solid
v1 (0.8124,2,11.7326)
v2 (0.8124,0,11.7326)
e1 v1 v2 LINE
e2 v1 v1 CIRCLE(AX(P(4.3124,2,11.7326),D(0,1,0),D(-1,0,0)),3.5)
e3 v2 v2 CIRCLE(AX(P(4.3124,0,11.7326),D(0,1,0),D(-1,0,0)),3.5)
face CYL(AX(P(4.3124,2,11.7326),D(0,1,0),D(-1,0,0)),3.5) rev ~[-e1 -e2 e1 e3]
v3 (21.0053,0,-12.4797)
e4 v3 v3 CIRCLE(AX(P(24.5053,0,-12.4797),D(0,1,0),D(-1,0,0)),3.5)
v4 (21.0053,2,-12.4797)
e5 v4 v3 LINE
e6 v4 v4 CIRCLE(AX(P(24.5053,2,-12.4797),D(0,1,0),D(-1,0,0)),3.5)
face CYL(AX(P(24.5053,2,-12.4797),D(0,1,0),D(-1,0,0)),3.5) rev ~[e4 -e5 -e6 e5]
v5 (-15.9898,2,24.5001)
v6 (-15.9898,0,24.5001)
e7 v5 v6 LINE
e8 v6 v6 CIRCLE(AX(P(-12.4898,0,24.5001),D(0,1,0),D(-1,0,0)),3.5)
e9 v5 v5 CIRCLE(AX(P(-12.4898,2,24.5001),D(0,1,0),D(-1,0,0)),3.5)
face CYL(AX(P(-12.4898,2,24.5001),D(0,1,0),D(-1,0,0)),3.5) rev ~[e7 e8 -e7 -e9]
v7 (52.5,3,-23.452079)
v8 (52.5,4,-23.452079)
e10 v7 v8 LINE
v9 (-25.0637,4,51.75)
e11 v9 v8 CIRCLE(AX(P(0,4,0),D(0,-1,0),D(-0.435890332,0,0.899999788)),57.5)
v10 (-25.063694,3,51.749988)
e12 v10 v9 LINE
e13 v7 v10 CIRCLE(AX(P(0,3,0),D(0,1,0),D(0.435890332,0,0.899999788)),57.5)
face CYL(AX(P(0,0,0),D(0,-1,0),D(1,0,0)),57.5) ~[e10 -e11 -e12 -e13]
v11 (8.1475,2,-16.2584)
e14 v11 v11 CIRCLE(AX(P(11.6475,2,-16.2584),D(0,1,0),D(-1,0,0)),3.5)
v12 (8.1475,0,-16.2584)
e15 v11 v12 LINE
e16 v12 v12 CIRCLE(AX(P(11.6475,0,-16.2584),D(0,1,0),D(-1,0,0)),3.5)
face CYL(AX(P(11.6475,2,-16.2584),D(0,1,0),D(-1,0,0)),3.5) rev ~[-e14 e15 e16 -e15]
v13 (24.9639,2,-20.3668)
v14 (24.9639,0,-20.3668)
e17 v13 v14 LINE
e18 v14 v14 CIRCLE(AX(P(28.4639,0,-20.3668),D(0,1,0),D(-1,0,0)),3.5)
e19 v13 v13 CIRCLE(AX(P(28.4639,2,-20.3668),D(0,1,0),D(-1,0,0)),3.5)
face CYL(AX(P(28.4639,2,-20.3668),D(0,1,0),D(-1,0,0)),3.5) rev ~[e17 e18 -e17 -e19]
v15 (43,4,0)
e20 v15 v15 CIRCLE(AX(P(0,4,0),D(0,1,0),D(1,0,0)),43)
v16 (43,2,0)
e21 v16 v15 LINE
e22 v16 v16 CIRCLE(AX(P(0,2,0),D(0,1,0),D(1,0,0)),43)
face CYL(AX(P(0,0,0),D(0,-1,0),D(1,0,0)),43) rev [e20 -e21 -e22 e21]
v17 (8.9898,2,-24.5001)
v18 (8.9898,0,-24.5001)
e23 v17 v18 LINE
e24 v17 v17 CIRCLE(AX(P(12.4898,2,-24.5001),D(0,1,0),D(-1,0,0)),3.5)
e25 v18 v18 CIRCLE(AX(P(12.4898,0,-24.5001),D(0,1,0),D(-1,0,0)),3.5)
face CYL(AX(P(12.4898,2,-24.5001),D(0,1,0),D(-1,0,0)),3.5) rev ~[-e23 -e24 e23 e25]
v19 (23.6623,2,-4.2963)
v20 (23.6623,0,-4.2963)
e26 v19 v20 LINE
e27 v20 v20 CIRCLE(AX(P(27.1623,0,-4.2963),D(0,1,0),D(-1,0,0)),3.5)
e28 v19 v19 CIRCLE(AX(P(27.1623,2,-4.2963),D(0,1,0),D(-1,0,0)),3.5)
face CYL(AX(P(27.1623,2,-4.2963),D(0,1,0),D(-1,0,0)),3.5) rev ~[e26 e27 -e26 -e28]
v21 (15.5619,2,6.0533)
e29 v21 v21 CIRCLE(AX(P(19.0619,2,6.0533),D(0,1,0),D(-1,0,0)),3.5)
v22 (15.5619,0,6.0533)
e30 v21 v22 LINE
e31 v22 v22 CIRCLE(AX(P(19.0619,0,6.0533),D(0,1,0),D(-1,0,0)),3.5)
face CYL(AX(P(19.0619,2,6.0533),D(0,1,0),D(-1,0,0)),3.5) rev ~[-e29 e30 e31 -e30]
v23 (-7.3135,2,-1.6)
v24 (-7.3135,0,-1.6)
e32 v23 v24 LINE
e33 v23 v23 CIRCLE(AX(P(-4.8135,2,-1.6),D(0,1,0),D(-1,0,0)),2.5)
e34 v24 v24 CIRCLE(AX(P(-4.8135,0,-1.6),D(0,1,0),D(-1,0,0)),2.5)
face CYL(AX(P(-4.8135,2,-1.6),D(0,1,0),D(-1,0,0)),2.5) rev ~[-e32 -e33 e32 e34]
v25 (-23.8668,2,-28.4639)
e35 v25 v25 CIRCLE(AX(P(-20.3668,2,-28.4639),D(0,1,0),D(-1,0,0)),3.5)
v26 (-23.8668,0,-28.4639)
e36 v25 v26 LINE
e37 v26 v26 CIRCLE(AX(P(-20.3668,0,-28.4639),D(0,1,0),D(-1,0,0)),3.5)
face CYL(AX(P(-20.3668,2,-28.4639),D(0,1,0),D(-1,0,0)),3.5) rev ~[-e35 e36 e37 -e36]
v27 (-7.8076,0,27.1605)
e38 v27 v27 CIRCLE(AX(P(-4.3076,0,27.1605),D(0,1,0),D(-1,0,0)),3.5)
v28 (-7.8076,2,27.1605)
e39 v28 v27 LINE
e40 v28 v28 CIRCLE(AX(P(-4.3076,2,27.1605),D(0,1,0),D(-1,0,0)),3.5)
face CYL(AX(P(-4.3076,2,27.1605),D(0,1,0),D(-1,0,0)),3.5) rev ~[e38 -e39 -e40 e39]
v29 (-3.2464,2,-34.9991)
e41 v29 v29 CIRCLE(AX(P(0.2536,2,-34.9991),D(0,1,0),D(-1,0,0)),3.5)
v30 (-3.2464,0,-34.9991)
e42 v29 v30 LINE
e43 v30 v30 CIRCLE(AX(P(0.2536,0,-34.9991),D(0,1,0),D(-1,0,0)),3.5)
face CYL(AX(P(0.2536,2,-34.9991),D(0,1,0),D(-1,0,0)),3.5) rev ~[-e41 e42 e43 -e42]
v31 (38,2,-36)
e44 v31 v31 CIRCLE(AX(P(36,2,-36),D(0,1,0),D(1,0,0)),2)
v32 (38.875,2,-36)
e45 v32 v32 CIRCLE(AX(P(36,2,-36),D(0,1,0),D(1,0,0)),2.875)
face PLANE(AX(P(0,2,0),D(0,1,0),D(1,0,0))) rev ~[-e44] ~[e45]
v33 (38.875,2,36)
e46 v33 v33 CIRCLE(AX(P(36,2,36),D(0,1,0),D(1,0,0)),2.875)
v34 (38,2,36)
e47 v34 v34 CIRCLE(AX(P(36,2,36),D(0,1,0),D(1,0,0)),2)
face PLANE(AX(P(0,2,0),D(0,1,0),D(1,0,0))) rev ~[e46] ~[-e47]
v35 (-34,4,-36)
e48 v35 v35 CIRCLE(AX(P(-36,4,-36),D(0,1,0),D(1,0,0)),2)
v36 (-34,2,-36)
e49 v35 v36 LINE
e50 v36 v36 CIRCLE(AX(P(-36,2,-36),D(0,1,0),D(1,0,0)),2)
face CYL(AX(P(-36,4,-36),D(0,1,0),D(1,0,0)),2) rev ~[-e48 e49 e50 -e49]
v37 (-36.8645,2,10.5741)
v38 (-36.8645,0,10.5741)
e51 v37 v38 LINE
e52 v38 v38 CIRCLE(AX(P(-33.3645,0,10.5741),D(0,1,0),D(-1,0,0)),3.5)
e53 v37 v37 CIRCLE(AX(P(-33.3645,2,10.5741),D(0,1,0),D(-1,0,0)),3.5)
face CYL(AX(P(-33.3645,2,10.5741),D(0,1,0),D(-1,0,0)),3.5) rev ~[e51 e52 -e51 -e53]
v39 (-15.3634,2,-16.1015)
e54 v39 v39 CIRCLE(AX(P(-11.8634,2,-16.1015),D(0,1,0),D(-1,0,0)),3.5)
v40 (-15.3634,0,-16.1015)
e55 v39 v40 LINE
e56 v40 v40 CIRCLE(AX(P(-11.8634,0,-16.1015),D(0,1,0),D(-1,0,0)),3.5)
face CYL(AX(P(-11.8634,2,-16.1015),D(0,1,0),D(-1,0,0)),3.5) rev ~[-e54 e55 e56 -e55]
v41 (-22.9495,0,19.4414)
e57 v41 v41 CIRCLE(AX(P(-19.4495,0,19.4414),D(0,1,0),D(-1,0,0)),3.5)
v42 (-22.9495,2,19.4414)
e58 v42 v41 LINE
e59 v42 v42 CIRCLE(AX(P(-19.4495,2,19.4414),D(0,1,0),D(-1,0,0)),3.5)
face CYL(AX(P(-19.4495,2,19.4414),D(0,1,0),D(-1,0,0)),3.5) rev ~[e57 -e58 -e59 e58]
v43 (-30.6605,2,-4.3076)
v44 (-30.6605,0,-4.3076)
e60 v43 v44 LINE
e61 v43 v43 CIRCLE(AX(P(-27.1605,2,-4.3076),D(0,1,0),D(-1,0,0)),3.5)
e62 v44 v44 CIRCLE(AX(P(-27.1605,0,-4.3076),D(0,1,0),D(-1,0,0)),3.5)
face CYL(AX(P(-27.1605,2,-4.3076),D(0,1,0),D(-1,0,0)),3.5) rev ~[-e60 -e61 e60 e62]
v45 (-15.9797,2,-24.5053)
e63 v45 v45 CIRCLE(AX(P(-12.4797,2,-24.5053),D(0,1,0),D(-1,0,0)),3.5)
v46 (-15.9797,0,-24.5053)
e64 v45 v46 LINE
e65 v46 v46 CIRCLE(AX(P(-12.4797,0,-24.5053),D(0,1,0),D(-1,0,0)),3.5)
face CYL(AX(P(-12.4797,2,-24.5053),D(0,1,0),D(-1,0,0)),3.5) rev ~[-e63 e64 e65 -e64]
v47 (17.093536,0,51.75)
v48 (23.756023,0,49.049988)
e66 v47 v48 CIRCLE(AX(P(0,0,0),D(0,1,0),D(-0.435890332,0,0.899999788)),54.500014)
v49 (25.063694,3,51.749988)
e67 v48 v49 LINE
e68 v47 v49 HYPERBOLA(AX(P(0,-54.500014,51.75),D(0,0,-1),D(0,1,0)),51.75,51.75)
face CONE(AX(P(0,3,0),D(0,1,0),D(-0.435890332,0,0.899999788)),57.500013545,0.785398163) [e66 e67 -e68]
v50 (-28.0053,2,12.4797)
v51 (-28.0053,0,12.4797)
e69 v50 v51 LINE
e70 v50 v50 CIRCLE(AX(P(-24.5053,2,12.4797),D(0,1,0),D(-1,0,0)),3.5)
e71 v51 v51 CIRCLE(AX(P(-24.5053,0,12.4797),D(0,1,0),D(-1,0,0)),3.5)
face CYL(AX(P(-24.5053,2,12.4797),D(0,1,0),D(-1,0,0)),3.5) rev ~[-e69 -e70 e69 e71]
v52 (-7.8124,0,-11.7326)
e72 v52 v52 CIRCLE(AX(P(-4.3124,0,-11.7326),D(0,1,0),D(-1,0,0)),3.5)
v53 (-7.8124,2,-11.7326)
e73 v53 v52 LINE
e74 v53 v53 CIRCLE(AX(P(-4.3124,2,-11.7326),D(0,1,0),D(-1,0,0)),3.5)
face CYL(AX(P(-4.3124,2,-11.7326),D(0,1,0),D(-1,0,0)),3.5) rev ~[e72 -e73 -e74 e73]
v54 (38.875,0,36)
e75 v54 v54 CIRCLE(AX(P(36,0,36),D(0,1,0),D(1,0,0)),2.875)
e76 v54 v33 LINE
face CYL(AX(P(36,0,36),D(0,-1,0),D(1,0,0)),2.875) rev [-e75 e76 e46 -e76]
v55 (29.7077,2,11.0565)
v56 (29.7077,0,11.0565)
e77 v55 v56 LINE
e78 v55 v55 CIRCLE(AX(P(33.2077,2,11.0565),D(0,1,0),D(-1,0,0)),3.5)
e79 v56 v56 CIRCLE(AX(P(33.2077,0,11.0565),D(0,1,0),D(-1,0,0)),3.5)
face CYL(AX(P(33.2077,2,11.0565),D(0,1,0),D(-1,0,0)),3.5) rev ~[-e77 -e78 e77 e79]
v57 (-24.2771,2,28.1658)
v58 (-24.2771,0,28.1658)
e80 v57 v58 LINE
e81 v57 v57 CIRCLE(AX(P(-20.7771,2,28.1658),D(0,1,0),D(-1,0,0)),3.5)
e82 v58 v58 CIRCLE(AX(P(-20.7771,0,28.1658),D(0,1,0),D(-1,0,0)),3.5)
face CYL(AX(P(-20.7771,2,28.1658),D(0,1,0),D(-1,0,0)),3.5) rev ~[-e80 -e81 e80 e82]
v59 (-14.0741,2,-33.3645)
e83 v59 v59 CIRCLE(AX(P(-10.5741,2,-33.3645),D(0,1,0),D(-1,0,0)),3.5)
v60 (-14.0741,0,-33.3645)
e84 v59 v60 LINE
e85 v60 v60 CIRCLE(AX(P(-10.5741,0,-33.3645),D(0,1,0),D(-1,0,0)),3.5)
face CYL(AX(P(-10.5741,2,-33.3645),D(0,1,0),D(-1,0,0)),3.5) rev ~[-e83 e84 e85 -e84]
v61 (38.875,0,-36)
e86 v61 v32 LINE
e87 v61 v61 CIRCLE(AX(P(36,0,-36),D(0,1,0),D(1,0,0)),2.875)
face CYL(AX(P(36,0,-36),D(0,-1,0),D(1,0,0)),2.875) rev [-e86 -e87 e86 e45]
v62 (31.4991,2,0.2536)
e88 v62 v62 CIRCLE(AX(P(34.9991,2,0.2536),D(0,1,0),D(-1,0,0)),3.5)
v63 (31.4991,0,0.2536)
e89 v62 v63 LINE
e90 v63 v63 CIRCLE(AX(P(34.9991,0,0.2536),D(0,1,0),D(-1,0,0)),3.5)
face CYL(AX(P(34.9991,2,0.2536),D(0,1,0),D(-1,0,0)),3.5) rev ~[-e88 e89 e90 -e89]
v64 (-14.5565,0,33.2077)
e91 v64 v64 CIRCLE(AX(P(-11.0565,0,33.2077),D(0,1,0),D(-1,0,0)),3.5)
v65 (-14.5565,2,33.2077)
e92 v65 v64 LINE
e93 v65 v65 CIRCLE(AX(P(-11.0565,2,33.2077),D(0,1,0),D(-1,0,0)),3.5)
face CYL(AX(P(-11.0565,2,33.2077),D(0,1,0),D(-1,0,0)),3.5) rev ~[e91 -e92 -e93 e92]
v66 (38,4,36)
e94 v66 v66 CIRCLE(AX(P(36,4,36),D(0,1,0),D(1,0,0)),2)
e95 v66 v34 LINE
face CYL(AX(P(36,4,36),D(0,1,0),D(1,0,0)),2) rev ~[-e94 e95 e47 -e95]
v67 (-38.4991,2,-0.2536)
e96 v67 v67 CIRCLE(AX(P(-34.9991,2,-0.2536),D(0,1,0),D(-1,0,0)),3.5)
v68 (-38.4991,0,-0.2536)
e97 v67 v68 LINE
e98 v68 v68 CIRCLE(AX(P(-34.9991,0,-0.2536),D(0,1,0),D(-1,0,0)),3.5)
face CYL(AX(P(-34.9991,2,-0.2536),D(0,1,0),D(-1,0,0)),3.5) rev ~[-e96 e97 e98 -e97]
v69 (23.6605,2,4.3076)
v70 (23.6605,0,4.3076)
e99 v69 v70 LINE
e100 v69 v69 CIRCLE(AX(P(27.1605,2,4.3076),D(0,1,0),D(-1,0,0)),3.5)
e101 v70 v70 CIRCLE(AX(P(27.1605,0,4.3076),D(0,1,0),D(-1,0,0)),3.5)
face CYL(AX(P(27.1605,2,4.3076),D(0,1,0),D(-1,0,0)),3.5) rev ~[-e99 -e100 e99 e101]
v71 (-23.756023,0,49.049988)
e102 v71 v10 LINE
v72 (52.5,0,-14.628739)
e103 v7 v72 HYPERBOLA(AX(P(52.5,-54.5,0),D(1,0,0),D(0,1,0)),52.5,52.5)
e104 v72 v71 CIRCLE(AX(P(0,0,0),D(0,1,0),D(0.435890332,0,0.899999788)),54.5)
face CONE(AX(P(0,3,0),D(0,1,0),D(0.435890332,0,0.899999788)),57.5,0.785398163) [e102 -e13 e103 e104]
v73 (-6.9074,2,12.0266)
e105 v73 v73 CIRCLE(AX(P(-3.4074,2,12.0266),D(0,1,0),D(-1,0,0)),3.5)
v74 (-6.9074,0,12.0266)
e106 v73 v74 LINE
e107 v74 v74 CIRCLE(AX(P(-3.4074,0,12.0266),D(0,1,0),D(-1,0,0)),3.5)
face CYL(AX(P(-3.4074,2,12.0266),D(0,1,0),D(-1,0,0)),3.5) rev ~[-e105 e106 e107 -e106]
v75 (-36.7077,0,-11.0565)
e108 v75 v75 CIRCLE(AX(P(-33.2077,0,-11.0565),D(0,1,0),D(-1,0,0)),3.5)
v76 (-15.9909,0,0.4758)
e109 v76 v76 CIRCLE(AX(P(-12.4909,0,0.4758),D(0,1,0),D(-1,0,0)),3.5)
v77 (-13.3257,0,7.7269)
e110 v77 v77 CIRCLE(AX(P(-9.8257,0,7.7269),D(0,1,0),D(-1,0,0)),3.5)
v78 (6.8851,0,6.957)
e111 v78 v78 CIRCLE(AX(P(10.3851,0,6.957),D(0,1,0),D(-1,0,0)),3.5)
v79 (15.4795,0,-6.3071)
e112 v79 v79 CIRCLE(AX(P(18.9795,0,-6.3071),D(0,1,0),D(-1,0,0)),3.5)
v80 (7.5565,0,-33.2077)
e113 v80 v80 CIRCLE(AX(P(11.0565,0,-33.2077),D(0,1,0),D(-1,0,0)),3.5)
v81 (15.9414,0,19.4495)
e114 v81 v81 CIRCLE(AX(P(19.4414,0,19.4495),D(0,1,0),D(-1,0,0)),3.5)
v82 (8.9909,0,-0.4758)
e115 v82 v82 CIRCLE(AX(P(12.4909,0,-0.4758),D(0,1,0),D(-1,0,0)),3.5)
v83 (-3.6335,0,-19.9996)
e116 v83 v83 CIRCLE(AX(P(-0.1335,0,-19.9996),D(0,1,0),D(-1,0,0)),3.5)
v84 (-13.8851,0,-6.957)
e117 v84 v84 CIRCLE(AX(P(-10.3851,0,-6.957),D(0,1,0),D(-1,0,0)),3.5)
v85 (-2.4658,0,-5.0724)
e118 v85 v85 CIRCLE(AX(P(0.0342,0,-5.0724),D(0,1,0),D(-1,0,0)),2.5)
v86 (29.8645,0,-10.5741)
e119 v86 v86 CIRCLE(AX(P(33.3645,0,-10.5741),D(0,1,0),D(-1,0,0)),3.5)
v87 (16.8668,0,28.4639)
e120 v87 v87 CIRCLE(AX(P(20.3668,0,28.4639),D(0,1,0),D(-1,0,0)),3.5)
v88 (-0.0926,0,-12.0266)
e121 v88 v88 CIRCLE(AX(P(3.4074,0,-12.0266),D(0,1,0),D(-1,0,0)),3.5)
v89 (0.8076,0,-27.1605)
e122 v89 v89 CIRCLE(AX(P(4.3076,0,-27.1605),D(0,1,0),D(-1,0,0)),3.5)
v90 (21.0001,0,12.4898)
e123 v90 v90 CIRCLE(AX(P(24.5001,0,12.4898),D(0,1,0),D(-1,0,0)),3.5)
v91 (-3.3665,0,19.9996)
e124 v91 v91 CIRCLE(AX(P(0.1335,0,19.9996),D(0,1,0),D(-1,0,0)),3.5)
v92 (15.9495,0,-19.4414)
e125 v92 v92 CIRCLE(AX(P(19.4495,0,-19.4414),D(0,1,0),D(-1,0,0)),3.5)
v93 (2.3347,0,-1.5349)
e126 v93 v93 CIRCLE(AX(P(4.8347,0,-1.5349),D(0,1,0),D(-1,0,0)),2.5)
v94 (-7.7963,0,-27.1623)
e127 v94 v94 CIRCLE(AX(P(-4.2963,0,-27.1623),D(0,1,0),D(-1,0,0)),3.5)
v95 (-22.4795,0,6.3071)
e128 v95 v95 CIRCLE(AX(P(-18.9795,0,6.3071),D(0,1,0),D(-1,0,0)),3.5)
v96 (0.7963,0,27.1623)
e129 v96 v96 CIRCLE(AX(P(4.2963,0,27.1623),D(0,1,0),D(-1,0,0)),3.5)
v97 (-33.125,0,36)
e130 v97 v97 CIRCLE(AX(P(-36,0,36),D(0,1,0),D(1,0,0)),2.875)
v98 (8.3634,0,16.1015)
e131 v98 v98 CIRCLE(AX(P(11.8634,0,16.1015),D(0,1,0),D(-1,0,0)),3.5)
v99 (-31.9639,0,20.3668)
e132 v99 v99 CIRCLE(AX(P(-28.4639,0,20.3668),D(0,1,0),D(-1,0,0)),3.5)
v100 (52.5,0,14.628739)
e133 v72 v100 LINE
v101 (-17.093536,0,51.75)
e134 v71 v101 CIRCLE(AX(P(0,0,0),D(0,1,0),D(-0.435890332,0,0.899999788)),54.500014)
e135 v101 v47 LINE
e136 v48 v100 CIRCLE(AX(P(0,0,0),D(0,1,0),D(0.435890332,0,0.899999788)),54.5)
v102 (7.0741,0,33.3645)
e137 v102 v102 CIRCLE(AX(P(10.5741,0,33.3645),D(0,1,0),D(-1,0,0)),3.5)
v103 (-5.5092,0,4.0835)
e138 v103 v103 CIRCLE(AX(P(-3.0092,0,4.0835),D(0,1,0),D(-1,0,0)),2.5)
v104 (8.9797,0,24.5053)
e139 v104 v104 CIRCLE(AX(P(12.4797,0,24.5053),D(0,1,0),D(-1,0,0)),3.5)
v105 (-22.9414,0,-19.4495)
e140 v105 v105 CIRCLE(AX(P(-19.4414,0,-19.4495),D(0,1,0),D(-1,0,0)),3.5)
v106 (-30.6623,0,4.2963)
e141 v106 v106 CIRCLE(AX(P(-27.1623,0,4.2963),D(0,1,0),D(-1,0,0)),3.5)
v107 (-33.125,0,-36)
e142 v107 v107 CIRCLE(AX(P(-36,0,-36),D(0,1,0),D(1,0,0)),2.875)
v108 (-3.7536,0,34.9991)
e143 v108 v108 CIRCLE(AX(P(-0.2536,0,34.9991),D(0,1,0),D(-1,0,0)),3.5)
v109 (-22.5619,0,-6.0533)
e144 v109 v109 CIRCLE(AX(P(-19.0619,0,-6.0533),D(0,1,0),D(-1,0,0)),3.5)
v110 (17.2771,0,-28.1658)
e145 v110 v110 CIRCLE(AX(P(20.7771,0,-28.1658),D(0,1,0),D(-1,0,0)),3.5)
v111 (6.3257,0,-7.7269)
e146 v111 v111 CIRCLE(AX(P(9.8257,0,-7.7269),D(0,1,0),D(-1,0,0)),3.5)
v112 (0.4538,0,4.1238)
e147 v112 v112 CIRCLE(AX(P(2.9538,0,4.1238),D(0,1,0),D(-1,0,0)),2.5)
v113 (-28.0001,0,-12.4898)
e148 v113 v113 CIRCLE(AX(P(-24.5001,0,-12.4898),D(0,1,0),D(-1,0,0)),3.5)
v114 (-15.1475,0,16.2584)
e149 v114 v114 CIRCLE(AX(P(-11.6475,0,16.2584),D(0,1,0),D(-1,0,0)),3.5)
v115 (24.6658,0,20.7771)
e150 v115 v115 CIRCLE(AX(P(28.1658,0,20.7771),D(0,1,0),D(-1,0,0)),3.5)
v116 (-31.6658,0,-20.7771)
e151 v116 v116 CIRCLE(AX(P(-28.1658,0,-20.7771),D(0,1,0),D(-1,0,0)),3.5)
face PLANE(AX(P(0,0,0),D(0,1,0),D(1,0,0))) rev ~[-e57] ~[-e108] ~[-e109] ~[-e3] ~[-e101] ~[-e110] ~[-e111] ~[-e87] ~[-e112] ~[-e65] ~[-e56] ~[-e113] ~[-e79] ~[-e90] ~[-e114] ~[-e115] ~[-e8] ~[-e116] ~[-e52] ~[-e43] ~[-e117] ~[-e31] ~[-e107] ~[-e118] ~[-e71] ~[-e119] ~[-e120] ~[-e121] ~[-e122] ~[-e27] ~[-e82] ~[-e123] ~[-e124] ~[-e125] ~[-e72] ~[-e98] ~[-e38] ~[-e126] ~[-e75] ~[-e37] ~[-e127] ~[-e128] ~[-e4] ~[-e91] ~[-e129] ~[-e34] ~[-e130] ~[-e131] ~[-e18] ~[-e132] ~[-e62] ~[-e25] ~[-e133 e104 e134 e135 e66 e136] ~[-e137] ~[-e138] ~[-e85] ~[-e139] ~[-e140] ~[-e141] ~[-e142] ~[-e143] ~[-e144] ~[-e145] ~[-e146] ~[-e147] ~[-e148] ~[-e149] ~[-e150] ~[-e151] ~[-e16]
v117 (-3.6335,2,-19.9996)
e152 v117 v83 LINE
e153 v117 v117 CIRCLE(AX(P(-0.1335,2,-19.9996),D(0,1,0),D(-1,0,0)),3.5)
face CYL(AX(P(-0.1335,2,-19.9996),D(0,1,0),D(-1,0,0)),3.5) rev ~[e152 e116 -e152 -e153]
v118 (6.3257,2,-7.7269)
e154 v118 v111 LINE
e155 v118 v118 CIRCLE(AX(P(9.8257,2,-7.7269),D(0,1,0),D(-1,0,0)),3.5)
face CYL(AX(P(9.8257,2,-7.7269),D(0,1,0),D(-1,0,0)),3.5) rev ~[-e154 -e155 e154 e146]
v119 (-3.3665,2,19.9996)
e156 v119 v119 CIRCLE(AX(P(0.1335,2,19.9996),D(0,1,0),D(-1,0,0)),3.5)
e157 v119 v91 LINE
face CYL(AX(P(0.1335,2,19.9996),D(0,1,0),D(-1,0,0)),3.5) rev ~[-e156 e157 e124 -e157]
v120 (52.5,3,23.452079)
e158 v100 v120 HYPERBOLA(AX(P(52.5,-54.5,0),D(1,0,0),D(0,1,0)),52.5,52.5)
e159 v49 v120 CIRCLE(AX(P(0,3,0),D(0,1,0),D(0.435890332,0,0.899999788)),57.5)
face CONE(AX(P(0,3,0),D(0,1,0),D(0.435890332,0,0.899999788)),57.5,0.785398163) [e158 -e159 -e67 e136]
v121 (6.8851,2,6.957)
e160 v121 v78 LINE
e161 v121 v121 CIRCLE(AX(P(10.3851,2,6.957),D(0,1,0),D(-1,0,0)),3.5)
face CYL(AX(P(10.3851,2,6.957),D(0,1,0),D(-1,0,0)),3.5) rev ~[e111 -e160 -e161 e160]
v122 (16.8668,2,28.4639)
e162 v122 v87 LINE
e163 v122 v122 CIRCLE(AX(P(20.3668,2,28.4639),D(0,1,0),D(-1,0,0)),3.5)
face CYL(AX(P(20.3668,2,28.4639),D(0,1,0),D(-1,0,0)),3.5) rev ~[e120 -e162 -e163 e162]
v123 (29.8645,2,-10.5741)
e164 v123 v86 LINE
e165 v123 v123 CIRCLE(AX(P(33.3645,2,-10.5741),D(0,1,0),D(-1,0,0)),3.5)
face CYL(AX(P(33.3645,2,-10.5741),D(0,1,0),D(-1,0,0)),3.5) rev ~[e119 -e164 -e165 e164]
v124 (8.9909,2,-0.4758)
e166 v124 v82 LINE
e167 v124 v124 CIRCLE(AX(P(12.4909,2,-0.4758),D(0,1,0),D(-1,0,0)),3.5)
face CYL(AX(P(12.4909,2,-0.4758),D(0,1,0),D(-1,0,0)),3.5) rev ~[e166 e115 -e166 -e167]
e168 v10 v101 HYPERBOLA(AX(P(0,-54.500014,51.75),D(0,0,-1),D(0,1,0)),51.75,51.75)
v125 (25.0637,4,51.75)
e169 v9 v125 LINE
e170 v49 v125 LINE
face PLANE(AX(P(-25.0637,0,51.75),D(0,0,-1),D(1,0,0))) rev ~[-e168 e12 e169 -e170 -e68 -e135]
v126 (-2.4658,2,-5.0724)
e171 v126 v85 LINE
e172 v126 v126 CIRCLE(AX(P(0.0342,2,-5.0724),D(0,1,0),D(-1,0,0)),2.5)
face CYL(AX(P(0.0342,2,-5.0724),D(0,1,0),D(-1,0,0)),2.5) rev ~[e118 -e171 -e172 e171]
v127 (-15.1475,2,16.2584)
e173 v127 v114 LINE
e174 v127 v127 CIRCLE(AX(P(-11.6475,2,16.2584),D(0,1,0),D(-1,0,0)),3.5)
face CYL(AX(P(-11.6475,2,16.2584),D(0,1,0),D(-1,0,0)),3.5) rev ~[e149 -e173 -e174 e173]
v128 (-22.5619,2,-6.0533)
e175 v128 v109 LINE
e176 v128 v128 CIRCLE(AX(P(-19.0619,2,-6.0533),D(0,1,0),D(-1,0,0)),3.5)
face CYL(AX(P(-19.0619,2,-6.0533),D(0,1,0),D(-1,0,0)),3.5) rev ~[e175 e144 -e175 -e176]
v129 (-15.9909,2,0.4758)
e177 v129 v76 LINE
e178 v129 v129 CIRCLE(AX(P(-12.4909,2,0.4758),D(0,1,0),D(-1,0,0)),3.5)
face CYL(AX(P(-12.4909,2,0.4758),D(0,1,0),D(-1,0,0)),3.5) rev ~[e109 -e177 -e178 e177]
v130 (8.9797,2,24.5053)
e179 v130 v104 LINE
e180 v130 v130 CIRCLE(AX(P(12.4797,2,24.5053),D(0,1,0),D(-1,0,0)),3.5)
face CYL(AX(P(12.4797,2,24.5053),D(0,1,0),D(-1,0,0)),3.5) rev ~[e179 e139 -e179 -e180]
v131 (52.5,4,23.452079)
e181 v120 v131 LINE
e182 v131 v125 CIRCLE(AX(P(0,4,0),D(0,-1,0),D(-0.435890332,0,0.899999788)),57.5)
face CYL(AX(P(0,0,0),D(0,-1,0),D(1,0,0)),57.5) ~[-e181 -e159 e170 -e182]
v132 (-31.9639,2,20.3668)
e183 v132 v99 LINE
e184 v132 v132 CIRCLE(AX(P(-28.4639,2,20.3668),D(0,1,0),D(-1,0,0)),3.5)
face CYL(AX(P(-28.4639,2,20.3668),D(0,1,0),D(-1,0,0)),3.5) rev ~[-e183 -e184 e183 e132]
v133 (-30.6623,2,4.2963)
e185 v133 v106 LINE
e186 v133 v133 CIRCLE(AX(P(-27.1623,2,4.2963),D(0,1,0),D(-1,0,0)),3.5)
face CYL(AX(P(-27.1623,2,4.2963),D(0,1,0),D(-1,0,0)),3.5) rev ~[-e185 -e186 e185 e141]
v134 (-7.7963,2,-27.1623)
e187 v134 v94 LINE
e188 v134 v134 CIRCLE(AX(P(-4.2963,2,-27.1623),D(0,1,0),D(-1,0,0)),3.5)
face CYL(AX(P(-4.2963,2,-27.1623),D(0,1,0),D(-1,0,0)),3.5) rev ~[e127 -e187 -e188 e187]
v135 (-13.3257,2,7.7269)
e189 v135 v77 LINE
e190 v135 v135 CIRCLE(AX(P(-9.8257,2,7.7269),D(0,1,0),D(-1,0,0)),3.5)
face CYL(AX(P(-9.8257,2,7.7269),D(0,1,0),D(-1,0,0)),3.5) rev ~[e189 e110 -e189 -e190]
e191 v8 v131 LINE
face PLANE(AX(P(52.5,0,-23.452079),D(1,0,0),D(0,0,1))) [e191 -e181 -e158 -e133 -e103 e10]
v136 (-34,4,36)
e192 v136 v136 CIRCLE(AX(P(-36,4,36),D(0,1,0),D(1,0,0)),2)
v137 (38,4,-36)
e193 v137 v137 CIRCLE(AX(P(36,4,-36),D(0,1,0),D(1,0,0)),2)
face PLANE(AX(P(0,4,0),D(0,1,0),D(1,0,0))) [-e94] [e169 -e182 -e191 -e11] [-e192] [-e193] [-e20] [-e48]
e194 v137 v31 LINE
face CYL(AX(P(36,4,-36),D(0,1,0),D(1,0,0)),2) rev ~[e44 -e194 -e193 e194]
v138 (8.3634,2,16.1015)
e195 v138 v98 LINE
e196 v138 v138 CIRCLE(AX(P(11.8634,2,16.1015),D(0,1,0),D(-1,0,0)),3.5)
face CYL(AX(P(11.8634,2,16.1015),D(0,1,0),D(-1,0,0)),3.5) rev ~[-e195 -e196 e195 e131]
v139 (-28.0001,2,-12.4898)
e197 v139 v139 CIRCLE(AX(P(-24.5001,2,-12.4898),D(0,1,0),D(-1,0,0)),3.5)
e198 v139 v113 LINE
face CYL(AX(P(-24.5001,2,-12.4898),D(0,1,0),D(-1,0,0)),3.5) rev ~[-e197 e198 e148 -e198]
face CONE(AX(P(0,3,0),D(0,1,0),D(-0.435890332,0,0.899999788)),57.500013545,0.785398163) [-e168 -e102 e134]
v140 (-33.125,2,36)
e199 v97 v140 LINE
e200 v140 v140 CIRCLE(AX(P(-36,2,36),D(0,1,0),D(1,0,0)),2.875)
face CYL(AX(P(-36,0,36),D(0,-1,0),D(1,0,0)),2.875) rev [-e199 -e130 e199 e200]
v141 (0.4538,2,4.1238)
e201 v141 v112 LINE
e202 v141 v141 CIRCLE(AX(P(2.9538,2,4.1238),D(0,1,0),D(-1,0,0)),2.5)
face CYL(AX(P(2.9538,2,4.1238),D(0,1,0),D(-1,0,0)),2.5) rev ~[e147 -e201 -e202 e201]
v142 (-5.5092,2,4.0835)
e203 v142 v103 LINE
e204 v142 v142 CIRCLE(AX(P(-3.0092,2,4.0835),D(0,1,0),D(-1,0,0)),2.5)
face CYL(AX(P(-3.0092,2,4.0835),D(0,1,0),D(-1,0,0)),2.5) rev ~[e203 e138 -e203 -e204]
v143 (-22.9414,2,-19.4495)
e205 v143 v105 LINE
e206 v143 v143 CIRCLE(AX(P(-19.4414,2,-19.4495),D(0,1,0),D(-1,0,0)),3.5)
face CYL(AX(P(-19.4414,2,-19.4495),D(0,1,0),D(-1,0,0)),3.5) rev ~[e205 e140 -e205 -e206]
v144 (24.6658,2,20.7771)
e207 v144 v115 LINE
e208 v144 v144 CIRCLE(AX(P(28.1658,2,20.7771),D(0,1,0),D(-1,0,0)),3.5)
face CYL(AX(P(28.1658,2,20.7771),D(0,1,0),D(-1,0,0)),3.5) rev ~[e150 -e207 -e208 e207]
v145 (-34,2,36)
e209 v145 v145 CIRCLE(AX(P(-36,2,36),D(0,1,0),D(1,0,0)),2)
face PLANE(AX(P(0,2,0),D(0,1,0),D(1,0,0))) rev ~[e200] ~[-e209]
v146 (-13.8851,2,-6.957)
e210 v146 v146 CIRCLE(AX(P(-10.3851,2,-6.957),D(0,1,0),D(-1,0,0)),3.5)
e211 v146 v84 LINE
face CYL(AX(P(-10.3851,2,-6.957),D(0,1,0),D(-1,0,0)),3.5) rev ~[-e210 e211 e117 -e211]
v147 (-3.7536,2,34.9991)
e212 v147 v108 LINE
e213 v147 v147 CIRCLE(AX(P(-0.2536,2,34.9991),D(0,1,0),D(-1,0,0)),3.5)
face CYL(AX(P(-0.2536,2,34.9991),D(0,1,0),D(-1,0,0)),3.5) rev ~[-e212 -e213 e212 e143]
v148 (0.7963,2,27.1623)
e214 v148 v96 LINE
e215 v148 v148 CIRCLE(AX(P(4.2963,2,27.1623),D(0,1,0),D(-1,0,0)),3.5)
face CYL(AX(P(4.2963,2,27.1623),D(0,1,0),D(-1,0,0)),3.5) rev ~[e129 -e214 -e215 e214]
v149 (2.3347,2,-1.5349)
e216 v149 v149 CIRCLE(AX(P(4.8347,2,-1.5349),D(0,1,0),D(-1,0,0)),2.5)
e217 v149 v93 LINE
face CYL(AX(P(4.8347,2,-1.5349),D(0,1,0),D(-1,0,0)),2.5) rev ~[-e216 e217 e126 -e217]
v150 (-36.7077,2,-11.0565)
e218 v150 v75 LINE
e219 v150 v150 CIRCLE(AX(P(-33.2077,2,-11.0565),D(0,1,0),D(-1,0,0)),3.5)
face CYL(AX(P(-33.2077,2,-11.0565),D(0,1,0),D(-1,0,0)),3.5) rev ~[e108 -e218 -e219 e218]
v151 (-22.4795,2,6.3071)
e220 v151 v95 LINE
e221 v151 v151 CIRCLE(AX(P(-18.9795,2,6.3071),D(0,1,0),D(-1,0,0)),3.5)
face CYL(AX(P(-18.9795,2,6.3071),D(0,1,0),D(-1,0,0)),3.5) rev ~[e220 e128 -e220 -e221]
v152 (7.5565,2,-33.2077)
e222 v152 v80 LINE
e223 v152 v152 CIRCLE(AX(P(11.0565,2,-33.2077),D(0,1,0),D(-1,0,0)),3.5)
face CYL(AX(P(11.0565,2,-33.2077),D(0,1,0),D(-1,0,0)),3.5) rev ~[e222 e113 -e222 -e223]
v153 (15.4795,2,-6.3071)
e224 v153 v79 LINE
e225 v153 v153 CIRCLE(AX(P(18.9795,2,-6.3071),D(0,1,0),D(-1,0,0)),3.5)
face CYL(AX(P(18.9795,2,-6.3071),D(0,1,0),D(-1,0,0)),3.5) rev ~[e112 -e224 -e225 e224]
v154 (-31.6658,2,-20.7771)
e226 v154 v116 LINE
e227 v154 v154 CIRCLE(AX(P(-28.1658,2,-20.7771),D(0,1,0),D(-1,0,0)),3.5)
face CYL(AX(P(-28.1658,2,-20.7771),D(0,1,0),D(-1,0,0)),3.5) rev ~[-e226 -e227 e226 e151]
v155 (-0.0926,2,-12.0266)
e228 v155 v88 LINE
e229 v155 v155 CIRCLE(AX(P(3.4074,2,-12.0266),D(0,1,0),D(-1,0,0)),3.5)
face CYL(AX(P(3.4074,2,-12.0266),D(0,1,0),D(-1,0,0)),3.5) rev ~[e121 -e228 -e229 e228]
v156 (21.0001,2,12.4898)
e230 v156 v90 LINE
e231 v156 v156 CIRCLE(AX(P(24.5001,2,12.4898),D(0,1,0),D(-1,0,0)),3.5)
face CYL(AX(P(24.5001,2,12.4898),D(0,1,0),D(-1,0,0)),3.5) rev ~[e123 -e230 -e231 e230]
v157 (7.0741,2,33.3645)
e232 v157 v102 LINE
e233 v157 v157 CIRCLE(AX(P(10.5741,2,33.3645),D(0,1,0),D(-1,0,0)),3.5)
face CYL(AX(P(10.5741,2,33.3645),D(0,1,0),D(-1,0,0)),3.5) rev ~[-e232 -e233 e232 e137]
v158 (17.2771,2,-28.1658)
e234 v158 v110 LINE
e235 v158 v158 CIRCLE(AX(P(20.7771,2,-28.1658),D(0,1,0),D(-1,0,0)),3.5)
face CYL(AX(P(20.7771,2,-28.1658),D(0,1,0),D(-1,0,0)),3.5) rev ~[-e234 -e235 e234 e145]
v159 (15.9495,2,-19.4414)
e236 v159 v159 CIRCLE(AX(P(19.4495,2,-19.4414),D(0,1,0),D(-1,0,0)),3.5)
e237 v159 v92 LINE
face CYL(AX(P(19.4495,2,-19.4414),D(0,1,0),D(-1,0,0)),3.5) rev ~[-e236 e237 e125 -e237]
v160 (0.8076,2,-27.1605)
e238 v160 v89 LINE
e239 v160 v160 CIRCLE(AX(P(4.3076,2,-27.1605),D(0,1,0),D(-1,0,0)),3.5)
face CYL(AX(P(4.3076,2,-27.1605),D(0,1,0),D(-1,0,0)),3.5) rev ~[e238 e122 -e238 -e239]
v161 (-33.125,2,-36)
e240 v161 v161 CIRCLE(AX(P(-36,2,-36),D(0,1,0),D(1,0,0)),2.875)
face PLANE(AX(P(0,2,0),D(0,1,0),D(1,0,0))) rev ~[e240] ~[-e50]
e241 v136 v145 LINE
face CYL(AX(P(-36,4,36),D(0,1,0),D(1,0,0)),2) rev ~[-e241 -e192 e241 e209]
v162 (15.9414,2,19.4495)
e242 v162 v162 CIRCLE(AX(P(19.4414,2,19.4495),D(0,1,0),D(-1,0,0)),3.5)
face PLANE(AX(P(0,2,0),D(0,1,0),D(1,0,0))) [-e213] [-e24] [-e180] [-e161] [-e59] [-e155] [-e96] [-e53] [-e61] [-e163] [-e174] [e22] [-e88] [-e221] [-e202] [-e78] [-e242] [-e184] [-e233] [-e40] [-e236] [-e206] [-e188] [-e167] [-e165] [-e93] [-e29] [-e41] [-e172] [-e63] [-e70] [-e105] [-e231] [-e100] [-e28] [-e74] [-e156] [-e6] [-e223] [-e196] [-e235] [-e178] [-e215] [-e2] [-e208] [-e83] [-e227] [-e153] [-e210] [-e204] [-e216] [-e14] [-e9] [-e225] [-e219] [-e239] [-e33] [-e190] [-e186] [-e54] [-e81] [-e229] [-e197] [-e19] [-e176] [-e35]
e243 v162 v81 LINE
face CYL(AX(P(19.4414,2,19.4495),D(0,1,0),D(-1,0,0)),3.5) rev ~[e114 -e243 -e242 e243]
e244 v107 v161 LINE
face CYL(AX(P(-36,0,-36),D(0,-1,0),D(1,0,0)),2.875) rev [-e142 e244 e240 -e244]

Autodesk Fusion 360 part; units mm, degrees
sketch "Sketch1" plane through (0, 0, 0) normal (0, 1, 0) x (1, 0, 0)
  circle A0 centre (0, 0) radius 57.5
  line L0 (36, -36) -> (-36, -36) construction
  line L1 (-36, -36) -> (-36, 36) construction
  line L2 (-36, 36) -> (36, 36) construction
  line L3 (36, 36) -> (36, -36) construction
  line L4 (36, -36) -> (-36, 36) construction
  line L5 (-36, -36) -> (36, 36) construction
  circle A1 centre (0, 0) radius 43
  circle A2 centre (-36, 36) radius 2
  circle A3 centre (36, 36) radius 2
  circle A4 centre (36, -36) radius 2
  circle A5 centre (-36, -36) radius 2
  circle A6 centre (-36, -36) radius 2.875
  circle A7 centre (36, -36) radius 2.875
  circle A8 centre (36, 36) radius 2.875
  circle A9 centre (-36, 36) radius 2.875
  line L6 (52.5, 40.4773) -> (52.5, -51.7956) construction
  line L7 (67.5556, 30.3847) -> (52.5, 30.3847)
  line L8 (52.5, 30.3847) -> (52.5, -29.8632)
  line L9 (-46.2969, -51.75) -> (48.3967, -51.75)
  arc A10 (-25.0637, -51.75) -> (25.0637, -51.75) centre (0, 0) ccw
  dimension "d1" = 115
  dimension "d2" = 72
  dimension "d3" = 72
  dimension "d4" = 86
  dimension "d5" = 4
  dimension "d6" = 4
  dimension "d7" = 4
  dimension "d8" = 4
  dimension "d9" = 5.75
  dimension "d10" = 5.75
  dimension "d11" = 5.75
  dimension "d12" = 5.75
  dimension "d54" = 52.5
  dimension "d58" = 51.75
extrude "Extrude1" add sketch "Sketch1" along normal blind 4 contours A0 L9 A10 | A0 L8 L9 | A0 L8
extrude "Extrude3" add sketch "Sketch1" along normal blind 2 contours A1
sketch "Sketch2" plane through (0, 2, 0) normal (0, 1, 0) x (-1, 0, 0)
  circle A0 centre (0, 0) radius 43
  circle A1 centre (0, 0) radius 35 construction
  circle A2 centre (0, 0) radius 27.5 construction
  circle A3 centre (0, 0) radius 20 construction
  circle A4 centre (0, 0) radius 12.5 construction
  circle A5 centre (0, 0) radius 7.5 construction
  circle A6 centre (-0.2536, -34.9991) radius 3.5
  circle A7 centre (10.5741, -33.3645) radius 3.5
  circle A8 centre (20.3668, -28.4639) radius 3.5
  circle A9 centre (28.1658, -20.7771) radius 3.5
  circle A10 centre (33.2077, -11.0565) radius 3.5
  circle A11 centre (34.9991, -0.2536) radius 3.5
  circle A12 centre (33.3645, 10.5741) radius 3.5
  circle A13 centre (28.4639, 20.3668) radius 3.5
  circle A14 centre (20.7771, 28.1658) radius 3.5
  circle A15 centre (11.0565, 33.2077) radius 3.5
  circle A16 centre (0.2536, 34.9991) radius 3.5
  circle A17 centre (-10.5741, 33.3645) radius 3.5
  circle A18 centre (-20.3668, 28.4639) radius 3.5
  circle A19 centre (-28.1658, 20.7771) radius 3.5
  circle A20 centre (-33.2077, 11.0565) radius 3.5
  circle A21 centre (-34.9991, 0.2536) radius 3.5
  circle A22 centre (-33.3645, -10.5741) radius 3.5
  circle A23 centre (-28.4639, -20.3668) radius 3.5
  circle A24 centre (-20.7771, -28.1658) radius 3.5
  circle A25 centre (-11.0565, -33.2077) radius 3.5
  circle A26 centre (4.2963, -27.1623) radius 3.5
  circle A27 centre (12.4797, -24.5053) radius 3.5
  circle A28 centre (19.4414, -19.4495) radius 3.5
  circle A29 centre (24.5001, -12.4898) radius 3.5
  circle A30 centre (27.1605, -4.3076) radius 3.5
  circle A31 centre (27.1623, 4.2963) radius 3.5
  circle A32 centre (24.5053, 12.4797) radius 3.5
  circle A33 centre (19.4495, 19.4414) radius 3.5
  circle A34 centre (12.4898, 24.5001) radius 3.5
  circle A35 centre (4.3076, 27.1605) radius 3.5
  circle A36 centre (-4.2963, 27.1623) radius 3.5
  circle A37 centre (-12.4797, 24.5053) radius 3.5
  circle A38 centre (-19.4414, 19.4495) radius 3.5
  circle A39 centre (-24.5001, 12.4898) radius 3.5
  circle A40 centre (-27.1605, 4.3076) radius 3.5
  circle A41 centre (-27.1623, -4.2963) radius 3.5
  circle A42 centre (-24.5053, -12.4797) radius 3.5
  circle A43 centre (-19.4495, -19.4414) radius 3.5
  circle A44 centre (-12.4898, -24.5001) radius 3.5
  circle A45 centre (-4.3076, -27.1605) radius 3.5
  circle A46 centre (0.1335, -19.9996) radius 3.5
  circle A47 centre (11.8634, -16.1015) radius 3.5
  circle A48 centre (19.0619, -6.0533) radius 3.5
  circle A49 centre (18.9795, 6.3071) radius 3.5
  circle A50 centre (11.6475, 16.2584) radius 3.5
  circle A51 centre (-0.1335, 19.9996) radius 3.5
  circle A52 centre (-11.8634, 16.1015) radius 3.5
  circle A53 centre (-19.0619, 6.0533) radius 3.5
  circle A54 centre (-18.9795, -6.3071) radius 3.5
  circle A55 centre (-11.6475, -16.2584) radius 3.5
  circle A56 centre (4.3124, -11.7326) radius 3.5
  circle A57 centre (10.3851, -6.957) radius 3.5
  circle A58 centre (12.4909, 0.4758) radius 3.5
  circle A59 centre (9.8257, 7.7269) radius 3.5
  circle A60 centre (3.4074, 12.0266) radius 3.5
  circle A61 centre (-4.3124, 11.7326) radius 3.5
  circle A62 centre (-10.3851, 6.957) radius 3.5
  circle A63 centre (-12.4909, -0.4758) radius 3.5
  circle A64 centre (-9.8257, -7.7269) radius 3.5
  circle A65 centre (-3.4074, -12.0266) radius 3.5
  circle A66 centre (-0.0342, -5.0724) radius 2.5
  circle A67 centre (4.8135, -1.6) radius 2.5
  circle A68 centre (3.0092, 4.0835) radius 2.5
  circle A69 centre (-2.9538, 4.1238) radius 2.5
  circle A70 centre (-4.8347, -1.5349) radius 2.5
  dimension "d19" = 70
  dimension "d20" = 55
  dimension "d21" = 40
  dimension "d22" = 25
  dimension "d23" = 15
  dimension "d24" = 7
  dimension "d28" = 360
  dimension "d29" = 7
  dimension "d31" = 360
  dimension "d32" = 7
  dimension "d34" = 360
  dimension "d35" = 7
  dimension "d43" = 360
  dimension "d45" = 5
  dimension "d47" = 360
extrude "Extrude4" cut sketch "Sketch2" against normal up to surface (2 mm away) contours A6
extrude "Extrude5" cut sketch "Sketch2" against normal up to surface (2 mm away) contours A7 | A8 | A9 | A10 | A11 | A12 | A13 | A14 | A15 | A16 | A17 | A18 | A19 | A20 | A21 | A22 | A23 | A24 | A25 | A26 | A27 | A28 | A29 | A30 | A31 | A32 | A33 | A34 | A35 | A36 | A37 | A38 | A39 | A40 | A41 | A42 | A43 | A44 | A45 | A46 | A47 | A48 | A49 | A50 | A51 | A52 | A53 | A54 | A55 | A56 | A57 | A58 | A59 | A60 | A61 | A62 | A63 | A64 | A65 | A66 | A67 | A68 | A69 | A70
extrude "Extrude6" add sketch "Sketch1" against normal blind 2 from surface at 4 contours A6 | A7 | A8 | A9
chamfer "Chamfer1" distance 3 angle 45 1 edges at (-53.6088, 0, 20.7929)
extrude "Extrude7" cut sketch "Sketch1" along normal up to surface (4 mm away) contours A0 L8
extrude "Extrude8" cut sketch "Sketch1" along normal up to surface (4 mm away) contours A0 L9 A10
equation "d54 = ( d1 / 2 ) - 5 mm"
equation "d58 = ( d1 / 2 ) - 5.75 mm"
